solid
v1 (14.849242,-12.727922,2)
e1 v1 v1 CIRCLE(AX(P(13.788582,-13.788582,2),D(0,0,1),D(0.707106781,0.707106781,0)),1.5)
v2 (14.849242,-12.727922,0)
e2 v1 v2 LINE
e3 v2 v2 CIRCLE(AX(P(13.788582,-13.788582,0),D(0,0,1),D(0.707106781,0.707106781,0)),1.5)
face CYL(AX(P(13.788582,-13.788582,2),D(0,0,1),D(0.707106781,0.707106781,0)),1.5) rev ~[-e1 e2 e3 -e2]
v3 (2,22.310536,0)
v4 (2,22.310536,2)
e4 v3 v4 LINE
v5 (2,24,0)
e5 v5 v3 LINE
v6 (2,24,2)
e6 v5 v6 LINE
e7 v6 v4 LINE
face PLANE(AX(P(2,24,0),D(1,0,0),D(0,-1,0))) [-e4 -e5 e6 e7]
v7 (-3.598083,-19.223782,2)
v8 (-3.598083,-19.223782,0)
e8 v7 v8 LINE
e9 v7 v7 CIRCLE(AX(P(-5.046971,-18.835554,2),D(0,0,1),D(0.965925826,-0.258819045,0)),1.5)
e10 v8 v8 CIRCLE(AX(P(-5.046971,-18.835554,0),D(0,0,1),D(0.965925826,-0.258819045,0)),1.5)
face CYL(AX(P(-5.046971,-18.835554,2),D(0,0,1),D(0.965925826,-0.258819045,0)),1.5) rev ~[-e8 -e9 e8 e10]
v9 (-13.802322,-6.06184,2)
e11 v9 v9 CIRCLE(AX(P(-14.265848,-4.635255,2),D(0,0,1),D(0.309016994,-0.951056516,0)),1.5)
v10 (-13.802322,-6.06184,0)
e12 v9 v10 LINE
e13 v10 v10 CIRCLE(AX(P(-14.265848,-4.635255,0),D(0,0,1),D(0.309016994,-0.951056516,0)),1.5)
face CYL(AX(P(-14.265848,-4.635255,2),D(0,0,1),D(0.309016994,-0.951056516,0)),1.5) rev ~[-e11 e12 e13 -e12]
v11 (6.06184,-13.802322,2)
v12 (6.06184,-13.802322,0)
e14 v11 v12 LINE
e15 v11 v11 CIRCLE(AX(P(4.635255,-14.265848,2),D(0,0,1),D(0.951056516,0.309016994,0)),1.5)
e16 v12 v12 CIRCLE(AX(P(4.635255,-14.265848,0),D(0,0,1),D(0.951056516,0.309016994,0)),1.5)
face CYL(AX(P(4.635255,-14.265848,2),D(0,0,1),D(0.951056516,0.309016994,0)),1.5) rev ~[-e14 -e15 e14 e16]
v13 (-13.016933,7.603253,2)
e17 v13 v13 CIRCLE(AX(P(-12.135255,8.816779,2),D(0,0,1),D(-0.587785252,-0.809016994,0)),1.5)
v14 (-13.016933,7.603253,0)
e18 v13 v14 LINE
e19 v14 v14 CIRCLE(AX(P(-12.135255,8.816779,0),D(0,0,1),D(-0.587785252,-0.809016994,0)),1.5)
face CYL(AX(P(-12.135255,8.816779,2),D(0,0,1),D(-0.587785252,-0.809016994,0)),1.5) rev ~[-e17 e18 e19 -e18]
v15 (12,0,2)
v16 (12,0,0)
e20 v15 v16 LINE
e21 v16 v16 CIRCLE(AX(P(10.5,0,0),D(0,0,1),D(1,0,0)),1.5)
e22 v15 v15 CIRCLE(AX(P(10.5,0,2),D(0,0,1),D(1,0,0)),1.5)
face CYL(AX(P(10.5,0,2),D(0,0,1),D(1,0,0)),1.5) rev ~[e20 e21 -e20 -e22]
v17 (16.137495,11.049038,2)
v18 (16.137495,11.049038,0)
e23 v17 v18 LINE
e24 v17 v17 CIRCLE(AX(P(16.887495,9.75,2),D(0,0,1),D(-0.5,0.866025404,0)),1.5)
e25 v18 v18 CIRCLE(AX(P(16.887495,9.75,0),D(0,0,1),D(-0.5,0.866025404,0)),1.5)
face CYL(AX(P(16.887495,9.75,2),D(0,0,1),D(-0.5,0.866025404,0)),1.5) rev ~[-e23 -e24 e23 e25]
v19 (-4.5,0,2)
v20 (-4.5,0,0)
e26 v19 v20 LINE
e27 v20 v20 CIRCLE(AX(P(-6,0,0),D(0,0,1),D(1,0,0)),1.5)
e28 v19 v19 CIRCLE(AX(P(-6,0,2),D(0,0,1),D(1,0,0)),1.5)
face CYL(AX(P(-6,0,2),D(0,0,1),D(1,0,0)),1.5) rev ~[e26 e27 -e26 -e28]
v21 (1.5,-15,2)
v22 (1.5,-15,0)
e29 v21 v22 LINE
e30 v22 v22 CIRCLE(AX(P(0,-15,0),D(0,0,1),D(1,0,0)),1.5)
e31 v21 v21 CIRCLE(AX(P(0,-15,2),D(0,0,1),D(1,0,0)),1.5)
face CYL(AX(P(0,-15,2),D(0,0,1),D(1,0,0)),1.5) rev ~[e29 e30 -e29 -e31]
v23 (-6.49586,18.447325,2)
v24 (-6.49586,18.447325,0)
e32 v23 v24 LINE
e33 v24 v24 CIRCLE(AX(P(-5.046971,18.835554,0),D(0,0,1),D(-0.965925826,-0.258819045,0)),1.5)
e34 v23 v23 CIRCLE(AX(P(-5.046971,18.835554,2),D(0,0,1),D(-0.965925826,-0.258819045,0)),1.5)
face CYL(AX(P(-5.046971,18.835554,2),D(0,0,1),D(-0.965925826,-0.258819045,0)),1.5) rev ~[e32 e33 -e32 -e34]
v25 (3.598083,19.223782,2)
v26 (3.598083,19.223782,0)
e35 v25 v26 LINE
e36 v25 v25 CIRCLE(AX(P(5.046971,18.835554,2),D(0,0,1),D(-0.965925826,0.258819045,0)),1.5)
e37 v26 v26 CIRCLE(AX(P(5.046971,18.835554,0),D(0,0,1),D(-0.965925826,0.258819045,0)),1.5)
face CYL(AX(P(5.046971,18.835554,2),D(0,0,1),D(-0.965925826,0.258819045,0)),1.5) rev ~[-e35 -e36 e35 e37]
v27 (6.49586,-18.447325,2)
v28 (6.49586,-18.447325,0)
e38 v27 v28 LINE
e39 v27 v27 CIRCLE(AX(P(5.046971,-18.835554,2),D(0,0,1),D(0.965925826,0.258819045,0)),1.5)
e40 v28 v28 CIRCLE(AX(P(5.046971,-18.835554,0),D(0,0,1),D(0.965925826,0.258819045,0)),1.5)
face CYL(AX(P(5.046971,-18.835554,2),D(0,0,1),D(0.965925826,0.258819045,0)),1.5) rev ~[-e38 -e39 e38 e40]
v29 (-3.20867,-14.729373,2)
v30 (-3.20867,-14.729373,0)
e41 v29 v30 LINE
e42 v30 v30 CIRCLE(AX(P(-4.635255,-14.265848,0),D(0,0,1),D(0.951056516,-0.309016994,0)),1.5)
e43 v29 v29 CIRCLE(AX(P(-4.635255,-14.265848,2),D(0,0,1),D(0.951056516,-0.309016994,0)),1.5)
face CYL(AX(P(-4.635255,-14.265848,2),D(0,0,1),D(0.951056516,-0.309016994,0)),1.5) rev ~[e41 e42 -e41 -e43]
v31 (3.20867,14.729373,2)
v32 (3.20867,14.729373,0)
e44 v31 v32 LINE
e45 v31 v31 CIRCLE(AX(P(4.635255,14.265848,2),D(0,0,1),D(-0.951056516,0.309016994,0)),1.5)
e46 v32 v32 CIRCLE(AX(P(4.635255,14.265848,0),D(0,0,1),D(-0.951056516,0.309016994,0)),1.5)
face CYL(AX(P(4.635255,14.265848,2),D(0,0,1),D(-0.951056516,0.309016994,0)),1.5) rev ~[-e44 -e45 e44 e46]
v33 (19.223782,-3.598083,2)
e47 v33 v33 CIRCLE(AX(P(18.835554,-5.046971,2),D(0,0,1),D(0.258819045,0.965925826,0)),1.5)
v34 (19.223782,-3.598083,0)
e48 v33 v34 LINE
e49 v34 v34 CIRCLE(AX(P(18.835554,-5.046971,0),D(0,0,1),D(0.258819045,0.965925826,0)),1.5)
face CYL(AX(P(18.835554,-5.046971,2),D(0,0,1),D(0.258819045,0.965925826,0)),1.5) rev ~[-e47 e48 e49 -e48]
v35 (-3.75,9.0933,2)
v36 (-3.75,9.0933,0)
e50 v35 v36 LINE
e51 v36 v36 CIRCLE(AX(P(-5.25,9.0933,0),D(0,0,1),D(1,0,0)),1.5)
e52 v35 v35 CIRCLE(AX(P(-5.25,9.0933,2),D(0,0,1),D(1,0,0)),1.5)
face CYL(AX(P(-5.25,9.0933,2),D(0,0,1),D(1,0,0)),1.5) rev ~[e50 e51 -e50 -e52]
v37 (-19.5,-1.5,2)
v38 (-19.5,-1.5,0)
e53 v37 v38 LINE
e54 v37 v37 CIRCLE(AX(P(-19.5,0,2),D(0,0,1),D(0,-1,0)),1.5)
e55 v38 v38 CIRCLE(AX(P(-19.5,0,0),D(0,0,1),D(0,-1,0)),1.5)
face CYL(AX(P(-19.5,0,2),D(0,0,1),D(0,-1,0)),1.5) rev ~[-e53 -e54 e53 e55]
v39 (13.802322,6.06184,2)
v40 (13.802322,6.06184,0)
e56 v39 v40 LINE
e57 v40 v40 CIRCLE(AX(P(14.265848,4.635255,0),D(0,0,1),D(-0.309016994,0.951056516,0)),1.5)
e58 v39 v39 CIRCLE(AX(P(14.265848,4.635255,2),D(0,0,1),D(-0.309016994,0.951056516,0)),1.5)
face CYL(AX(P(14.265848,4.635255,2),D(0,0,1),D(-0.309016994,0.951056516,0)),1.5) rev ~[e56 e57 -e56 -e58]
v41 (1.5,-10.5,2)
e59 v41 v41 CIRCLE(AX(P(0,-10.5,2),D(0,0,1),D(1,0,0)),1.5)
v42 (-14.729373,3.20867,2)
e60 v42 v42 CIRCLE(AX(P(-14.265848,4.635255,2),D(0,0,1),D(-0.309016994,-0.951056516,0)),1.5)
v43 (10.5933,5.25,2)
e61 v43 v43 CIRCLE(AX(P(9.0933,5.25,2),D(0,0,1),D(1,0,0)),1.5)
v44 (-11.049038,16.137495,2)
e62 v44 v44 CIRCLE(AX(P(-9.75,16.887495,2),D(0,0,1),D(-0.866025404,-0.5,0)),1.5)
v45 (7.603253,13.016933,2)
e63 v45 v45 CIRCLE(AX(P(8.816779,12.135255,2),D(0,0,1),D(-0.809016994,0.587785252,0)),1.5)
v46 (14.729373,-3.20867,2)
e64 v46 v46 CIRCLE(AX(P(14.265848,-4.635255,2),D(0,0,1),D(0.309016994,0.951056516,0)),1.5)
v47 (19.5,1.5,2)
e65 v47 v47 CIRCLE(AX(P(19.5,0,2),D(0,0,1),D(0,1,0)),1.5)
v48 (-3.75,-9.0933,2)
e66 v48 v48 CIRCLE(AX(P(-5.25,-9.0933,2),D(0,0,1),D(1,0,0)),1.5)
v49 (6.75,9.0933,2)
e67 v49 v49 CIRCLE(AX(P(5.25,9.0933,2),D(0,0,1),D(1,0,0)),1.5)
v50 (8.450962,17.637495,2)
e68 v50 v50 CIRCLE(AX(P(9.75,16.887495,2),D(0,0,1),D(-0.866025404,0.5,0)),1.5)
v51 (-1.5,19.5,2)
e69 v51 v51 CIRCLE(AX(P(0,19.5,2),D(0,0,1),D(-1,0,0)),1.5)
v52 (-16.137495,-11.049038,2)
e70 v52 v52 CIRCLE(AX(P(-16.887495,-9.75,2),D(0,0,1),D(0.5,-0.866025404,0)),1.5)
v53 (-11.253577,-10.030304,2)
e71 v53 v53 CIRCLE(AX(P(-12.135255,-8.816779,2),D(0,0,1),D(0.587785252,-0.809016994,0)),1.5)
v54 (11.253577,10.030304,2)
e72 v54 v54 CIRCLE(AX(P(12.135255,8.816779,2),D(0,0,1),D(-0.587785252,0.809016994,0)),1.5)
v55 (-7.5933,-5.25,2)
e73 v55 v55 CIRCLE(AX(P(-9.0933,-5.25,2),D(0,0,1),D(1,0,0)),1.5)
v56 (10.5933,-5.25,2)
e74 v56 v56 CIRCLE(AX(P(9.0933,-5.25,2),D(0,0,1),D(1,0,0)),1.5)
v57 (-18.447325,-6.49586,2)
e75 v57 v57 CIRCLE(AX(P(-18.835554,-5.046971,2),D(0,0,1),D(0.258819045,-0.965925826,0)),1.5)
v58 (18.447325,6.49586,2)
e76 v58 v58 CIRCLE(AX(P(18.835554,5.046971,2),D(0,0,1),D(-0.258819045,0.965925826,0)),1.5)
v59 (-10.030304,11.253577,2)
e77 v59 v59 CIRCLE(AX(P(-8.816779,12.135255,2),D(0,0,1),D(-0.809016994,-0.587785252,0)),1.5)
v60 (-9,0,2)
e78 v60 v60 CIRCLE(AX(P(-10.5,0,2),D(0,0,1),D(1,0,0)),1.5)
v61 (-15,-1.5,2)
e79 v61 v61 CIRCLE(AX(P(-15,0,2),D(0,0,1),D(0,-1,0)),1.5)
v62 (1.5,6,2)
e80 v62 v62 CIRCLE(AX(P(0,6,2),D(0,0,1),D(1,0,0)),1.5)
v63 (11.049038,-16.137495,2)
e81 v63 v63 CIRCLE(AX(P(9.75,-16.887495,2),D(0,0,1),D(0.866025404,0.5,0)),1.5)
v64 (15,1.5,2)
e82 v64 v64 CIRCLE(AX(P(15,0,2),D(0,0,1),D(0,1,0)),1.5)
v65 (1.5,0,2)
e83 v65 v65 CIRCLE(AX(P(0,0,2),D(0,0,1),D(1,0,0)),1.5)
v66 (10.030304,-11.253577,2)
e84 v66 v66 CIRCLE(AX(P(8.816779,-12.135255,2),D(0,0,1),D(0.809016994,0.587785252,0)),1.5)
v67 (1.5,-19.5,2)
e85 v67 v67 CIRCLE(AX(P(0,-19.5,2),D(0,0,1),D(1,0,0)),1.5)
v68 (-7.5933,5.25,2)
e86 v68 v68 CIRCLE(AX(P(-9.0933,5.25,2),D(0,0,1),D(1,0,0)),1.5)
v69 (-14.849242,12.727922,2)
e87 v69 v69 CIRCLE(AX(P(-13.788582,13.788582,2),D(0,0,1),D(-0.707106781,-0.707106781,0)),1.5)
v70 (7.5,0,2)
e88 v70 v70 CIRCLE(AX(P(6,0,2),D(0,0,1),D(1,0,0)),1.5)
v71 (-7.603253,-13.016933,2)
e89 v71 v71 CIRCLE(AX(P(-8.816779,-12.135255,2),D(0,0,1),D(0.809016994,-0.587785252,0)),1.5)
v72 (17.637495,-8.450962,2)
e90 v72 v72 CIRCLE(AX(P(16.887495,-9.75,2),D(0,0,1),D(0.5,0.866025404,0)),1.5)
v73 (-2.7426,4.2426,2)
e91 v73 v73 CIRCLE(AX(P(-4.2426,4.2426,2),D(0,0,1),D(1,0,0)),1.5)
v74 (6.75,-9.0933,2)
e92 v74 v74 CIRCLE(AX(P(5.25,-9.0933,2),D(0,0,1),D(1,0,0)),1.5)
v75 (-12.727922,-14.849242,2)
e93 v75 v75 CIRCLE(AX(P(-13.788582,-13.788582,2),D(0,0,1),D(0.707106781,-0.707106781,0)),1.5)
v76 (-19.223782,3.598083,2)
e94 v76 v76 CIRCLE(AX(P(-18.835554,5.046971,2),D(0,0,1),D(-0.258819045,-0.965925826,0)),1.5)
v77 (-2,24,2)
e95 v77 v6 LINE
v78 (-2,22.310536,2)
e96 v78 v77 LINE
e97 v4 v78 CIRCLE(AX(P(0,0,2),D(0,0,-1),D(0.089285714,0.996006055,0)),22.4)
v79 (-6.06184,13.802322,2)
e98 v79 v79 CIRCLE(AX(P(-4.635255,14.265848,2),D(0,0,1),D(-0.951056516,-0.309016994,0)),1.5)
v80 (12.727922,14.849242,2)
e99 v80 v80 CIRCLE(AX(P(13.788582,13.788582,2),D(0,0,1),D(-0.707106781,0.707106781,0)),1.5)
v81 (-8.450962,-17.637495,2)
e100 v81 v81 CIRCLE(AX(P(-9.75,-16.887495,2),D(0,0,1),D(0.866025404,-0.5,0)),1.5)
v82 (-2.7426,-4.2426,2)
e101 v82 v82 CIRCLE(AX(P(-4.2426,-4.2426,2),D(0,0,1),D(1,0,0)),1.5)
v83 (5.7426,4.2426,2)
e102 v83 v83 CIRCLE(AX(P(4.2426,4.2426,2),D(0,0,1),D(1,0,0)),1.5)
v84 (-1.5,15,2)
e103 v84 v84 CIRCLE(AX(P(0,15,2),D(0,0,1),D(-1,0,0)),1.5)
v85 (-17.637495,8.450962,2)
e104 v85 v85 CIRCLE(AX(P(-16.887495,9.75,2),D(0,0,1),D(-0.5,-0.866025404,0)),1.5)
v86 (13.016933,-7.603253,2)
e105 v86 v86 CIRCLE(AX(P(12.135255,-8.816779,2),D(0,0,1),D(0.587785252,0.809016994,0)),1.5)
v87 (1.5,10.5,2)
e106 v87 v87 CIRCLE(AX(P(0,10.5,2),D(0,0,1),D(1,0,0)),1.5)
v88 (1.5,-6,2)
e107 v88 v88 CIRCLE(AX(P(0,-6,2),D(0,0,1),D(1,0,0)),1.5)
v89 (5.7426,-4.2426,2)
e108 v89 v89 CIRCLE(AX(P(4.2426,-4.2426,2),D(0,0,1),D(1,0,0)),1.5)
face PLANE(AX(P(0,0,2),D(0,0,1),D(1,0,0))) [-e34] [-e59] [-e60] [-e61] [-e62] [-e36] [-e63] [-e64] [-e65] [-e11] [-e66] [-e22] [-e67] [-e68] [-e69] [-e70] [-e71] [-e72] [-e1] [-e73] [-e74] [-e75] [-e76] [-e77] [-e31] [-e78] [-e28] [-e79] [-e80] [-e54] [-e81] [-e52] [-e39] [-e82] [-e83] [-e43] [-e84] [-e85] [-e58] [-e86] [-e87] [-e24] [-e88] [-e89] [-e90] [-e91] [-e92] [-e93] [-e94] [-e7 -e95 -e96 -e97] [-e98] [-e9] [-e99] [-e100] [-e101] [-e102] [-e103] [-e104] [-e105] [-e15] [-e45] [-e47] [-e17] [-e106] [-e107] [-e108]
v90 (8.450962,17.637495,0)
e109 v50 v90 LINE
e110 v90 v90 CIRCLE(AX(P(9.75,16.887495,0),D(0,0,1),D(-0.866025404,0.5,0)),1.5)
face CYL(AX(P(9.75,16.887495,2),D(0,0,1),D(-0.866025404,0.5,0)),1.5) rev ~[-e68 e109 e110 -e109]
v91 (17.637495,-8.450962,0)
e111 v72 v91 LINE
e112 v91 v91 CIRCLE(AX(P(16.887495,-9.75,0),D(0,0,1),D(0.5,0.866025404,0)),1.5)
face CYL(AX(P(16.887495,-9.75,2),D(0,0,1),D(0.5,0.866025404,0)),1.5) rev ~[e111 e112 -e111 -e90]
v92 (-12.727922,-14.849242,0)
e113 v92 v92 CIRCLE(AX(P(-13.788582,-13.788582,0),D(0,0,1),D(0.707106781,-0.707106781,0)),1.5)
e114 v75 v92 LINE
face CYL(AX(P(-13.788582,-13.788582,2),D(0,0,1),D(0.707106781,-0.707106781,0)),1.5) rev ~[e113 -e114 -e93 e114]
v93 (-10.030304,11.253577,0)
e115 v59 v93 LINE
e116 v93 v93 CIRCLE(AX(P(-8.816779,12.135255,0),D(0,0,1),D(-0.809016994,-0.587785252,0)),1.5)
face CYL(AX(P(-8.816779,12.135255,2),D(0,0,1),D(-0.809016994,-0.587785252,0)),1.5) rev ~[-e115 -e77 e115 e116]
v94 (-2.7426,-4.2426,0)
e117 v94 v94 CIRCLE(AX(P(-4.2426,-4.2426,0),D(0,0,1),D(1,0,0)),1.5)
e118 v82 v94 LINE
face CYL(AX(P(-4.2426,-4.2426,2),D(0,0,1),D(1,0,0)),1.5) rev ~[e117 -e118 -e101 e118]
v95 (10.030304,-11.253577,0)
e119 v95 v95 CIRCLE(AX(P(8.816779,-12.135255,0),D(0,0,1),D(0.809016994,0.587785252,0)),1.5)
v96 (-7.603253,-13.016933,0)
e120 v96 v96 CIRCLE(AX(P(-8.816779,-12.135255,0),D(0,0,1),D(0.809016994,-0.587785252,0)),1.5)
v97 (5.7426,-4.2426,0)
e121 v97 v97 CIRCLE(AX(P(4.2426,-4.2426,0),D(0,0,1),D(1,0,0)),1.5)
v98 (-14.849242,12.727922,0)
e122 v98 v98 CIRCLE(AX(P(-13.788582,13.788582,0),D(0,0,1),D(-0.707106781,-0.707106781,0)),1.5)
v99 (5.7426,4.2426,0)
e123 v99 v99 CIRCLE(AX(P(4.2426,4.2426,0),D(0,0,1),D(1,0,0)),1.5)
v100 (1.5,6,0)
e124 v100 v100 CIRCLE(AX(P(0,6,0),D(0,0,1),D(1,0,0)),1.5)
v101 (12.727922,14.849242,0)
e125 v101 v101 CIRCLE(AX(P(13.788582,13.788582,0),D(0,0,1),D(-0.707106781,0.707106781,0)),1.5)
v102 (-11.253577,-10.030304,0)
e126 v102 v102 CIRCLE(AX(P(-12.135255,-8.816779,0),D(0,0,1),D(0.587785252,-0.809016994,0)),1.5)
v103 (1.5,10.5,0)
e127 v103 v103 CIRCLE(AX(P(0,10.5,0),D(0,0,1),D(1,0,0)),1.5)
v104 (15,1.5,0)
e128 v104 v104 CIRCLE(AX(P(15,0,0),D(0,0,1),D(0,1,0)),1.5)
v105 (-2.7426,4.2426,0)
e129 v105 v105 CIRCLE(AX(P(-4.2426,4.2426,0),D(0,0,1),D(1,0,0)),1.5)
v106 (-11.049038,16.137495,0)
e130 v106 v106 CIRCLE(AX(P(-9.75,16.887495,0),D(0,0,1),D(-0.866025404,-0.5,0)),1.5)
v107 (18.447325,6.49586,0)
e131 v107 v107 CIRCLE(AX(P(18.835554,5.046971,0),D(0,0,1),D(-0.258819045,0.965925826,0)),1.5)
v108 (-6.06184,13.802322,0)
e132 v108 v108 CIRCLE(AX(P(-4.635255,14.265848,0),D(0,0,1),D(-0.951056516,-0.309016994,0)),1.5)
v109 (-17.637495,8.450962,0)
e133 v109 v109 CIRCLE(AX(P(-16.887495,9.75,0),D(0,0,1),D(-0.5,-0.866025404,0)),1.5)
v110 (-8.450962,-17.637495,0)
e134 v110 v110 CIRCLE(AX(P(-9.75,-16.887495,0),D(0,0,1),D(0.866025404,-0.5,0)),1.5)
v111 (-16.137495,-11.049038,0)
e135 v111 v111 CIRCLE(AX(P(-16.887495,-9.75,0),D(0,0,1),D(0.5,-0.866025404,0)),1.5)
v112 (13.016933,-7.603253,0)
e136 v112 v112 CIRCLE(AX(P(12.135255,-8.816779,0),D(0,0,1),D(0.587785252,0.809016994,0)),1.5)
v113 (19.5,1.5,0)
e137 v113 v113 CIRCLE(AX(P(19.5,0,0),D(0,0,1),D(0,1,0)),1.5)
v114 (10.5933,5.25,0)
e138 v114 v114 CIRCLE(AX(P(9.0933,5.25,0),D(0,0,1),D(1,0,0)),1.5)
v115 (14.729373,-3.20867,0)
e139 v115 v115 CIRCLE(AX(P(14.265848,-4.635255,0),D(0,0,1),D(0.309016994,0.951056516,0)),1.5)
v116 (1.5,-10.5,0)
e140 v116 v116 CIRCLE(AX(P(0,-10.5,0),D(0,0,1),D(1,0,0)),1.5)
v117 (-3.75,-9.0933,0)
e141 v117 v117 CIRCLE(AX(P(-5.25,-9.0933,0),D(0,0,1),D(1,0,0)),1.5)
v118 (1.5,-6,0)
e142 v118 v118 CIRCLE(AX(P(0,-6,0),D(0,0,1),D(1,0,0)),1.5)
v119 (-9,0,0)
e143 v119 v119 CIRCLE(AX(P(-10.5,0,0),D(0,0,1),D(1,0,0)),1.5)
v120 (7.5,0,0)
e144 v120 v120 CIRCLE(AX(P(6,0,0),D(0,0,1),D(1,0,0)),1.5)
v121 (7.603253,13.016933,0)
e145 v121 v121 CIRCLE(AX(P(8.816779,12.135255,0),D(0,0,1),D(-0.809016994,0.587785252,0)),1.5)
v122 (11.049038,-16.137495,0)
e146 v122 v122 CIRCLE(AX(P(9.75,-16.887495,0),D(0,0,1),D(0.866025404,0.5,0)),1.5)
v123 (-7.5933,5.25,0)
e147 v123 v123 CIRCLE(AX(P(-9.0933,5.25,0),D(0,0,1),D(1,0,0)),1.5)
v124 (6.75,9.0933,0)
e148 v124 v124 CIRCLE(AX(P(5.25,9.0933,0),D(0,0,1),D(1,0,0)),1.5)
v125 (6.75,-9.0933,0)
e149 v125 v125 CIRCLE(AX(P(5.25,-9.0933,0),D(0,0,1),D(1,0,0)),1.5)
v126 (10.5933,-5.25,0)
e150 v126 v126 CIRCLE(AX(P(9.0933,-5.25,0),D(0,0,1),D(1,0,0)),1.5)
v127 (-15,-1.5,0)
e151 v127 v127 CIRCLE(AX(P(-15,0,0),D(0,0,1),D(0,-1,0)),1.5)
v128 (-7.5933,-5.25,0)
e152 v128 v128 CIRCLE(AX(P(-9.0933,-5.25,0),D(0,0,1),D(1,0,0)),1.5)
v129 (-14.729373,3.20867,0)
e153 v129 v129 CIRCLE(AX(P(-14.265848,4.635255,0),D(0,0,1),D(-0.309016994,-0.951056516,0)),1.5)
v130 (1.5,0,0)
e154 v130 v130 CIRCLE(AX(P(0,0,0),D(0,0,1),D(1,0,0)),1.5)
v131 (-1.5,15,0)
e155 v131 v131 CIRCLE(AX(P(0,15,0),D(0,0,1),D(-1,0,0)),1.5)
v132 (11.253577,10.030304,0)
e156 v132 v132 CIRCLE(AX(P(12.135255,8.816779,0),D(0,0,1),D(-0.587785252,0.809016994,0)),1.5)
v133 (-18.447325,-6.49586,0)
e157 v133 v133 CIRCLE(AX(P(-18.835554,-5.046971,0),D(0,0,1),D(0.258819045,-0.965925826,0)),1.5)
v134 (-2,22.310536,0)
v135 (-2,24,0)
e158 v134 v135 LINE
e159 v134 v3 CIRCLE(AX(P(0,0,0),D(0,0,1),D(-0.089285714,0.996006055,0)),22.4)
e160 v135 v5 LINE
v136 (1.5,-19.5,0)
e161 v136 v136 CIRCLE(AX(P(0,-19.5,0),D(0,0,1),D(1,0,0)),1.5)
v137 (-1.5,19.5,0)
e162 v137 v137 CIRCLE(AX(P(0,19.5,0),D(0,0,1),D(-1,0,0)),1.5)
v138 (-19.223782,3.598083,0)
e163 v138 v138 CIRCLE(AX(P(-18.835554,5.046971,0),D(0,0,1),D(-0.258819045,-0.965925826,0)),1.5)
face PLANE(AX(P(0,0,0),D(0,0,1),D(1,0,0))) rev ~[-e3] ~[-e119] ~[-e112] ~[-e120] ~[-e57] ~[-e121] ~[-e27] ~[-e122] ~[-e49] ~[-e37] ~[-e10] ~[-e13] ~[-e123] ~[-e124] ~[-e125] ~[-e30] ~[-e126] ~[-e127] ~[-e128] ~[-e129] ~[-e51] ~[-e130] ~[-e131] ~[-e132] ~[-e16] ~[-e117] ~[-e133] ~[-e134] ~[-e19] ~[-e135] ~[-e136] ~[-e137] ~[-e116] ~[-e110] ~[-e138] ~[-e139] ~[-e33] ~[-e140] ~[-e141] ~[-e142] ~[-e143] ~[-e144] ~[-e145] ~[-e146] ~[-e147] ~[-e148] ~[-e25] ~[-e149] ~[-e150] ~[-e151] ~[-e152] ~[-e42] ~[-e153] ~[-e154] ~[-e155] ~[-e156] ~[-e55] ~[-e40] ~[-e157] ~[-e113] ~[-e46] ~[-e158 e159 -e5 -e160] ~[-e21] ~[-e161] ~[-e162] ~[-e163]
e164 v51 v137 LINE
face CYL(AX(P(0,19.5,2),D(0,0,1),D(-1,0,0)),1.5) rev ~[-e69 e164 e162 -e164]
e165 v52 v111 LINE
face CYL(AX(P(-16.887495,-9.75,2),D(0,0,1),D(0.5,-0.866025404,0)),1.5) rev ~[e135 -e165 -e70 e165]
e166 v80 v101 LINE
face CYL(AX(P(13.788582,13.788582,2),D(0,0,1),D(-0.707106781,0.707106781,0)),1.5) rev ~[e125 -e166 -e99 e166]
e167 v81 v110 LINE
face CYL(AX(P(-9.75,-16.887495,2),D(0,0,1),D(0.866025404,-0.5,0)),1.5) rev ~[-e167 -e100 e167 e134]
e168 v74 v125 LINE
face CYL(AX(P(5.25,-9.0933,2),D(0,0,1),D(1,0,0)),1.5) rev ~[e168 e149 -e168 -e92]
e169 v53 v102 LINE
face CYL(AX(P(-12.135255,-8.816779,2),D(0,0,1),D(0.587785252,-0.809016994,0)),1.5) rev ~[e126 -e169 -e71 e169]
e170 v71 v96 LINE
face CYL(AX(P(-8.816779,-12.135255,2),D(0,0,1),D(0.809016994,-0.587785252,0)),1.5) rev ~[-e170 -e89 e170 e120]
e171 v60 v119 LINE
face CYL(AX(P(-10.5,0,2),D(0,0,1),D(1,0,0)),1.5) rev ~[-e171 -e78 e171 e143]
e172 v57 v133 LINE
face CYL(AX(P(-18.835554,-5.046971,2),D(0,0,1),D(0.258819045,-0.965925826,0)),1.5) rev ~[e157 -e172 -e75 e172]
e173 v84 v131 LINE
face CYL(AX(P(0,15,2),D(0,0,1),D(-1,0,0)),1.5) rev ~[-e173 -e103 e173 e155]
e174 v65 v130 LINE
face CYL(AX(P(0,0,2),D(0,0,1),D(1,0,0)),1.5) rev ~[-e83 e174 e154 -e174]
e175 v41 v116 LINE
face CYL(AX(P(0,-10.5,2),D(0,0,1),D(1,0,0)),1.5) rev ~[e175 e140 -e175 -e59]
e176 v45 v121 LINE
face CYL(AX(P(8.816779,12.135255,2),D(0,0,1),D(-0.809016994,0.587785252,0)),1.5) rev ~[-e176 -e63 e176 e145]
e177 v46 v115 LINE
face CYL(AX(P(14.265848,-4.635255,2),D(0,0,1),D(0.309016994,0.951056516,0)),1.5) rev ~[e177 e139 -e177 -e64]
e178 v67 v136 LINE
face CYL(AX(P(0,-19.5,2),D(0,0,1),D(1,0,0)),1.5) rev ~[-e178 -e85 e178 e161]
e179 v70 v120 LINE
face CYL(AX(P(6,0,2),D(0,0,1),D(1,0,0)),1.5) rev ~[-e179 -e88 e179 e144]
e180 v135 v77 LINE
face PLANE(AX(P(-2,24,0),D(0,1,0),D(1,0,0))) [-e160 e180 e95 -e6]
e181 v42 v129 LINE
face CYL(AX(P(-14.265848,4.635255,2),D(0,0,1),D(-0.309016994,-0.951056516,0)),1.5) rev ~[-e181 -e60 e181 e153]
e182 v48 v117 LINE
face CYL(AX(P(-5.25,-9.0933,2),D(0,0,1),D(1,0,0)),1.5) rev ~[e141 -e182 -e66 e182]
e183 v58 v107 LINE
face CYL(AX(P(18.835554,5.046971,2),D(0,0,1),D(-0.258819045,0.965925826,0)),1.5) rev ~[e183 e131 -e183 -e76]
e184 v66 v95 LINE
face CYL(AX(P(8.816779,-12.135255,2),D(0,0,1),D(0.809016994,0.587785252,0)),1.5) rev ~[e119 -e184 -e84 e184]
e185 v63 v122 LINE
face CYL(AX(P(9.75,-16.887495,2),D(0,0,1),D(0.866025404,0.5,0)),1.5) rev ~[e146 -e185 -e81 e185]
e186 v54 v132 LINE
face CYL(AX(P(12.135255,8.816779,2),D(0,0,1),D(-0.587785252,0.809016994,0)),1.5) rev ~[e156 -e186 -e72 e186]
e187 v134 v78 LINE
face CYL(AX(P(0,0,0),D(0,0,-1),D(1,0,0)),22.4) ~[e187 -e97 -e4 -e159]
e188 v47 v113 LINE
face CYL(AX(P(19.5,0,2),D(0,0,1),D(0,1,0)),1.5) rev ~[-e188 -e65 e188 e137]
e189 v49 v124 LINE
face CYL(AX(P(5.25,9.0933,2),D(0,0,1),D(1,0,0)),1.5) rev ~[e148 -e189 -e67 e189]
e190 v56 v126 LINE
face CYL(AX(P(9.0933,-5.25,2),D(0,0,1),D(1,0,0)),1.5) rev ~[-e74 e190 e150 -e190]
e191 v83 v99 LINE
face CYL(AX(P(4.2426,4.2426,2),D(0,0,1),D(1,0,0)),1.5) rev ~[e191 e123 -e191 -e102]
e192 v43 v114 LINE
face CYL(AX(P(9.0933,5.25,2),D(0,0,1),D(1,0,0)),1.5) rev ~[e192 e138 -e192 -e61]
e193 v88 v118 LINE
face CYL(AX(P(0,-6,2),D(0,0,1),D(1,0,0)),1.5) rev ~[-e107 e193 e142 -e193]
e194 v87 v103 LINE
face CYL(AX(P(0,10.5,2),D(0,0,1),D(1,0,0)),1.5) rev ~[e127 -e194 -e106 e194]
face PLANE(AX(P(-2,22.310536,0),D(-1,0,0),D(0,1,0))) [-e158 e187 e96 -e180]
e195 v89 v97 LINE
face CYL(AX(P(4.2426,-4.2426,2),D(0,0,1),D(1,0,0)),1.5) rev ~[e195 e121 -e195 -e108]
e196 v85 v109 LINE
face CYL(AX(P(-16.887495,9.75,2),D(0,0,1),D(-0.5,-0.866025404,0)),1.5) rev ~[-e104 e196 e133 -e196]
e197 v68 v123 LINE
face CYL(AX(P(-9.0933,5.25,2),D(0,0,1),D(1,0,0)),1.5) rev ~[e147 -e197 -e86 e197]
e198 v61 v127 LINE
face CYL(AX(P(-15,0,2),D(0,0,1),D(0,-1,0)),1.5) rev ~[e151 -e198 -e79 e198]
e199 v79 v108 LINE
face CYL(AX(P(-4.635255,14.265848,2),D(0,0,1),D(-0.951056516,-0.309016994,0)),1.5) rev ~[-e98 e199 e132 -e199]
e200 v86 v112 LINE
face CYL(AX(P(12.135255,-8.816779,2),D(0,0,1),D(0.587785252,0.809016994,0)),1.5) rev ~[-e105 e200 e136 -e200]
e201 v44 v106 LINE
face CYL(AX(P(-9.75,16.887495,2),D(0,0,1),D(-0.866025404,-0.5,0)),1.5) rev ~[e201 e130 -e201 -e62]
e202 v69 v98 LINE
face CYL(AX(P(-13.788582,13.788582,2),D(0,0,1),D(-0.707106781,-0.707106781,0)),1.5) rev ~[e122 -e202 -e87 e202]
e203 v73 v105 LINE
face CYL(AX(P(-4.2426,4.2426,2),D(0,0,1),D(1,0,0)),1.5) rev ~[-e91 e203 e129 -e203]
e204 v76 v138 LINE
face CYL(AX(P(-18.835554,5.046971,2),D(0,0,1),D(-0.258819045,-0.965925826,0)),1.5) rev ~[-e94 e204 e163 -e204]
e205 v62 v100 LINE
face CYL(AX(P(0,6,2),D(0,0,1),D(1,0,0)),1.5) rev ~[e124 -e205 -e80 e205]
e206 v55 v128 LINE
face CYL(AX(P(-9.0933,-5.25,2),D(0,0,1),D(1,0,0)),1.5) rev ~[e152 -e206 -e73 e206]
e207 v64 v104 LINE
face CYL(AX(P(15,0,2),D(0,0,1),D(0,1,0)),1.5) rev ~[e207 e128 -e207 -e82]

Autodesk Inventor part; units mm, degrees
ref_plane "YZ Plane" through (0, 0, 0) normal (1, 0, 0) x (0, 1, 0)
ref_plane "XZ Plane" through (0, 0, 0) normal (0, 1, 0) x (-1, 0, 0)
ref_plane "XY Plane" through (0, 0, 0) normal (0, 0, 1) x (1, 0, 0)
sketch "Эскиз1" plane through (0, 0, 0) normal (0, 0, 1) x (1, 0, 0)
  circle A0 centre (0, 0) radius 22.4
  line L0 (-2, 24) -> (2, 24)
  line L1 (2, 24) -> (2, 21)
  line L2 (2, 21) -> (-2, 21)
  line L3 (-2, 21) -> (-2, 24)
  dimension "d0" = 44.8
  dimension "d2" = 4
  dimension "d3" = 3
  dimension "d4" = 2
  dimension "d5" = 21
extrude "Выдавливание1" add sketch "Эскиз1" along normal blind 2
sketch "Эскиз2" plane through (0, 0, 2) normal (0, 0, 1) x (1, 0, 0)
  circle A0 centre (0, 0) radius 22.4
  circle A1 centre (0, 0) radius 1.5
  circle A2 centre (0, -6) radius 1.5
  circle A3 centre (4.2426, -4.2426) radius 1.5
  circle A4 centre (6, 0) radius 1.5
  circle A5 centre (4.2426, 4.2426) radius 1.5
  circle A6 centre (0, 6) radius 1.5
  circle A7 centre (-4.2426, 4.2426) radius 1.5
  circle A8 centre (-6, 0) radius 1.5
  circle A9 centre (-4.2426, -4.2426) radius 1.5
  dimension "d8" = 3
  dimension "d9" = 3
  dimension "d10" = 6
  dimension "d13" = 360
extrude "Выдавливание2" cut sketch "Эскиз2" against normal blind 2 contours A1 | A2 | A3 | A4 | A5 | A6 | A7 | A8 | A9
sketch "Эскиз3" plane through (0, 0, 2) normal (0, 0, 1) x (1, 0, 0)
  circle A0 centre (0, -10.5) radius 1.5
  circle A1 centre (5.25, -9.0933) radius 1.5
  circle A2 centre (9.0933, -5.25) radius 1.5
  circle A3 centre (10.5, 0) radius 1.5
  circle A4 centre (9.0933, 5.25) radius 1.5
  circle A5 centre (5.25, 9.0933) radius 1.5
  circle A6 centre (0, 10.5) radius 1.5
  circle A7 centre (-5.25, 9.0933) radius 1.5
  circle A8 centre (-9.0933, 5.25) radius 1.5
  circle A9 centre (-10.5, 0) radius 1.5
  circle A10 centre (-9.0933, -5.25) radius 1.5
  circle A11 centre (-5.25, -9.0933) radius 1.5
  point P0 (0, 0)
  dimension "d17" = 3
  dimension "d18" = 10.5
  dimension "d21" = 360
extrude "Выдавливание3" cut sketch "Эскиз3" along normal blind 2
extrude "Выдавливание4" cut sketch "Эскиз3" against normal blind 2
sketch "Эскиз4" plane through (0, 0, 2) normal (0, 0, 1) x (1, 0, 0)
  circle A0 centre (0, -15) radius 1.5
  point P0 (0, 0)
  dimension "d27" = 3
  dimension "d28" = 15
extrude "Выдавливание5" cut sketch "Эскиз4" against normal blind 2
pattern_circular "Круговой массив1" count 20 over 360 about axis through (0, 0, 2) along (0, 0, -1) of "Выдавливание5"
sketch "Эскиз5" plane through (0, 0, 2) normal (0, 0, 1) x (1, 0, 0)
  circle A0 centre (0, -19.5) radius 1.5
  point P0 (0, 0)
  dimension "d34" = 3
  dimension "d35" = 19.5
extrude "Выдавливание6" cut sketch "Эскиз5" against normal blind 2
pattern_circular "Круговой массив2" count 24 over 360 about axis through (0, 0, 2) along (0, 0, -1) of "Выдавливание6"
properties part number "Матрица"
